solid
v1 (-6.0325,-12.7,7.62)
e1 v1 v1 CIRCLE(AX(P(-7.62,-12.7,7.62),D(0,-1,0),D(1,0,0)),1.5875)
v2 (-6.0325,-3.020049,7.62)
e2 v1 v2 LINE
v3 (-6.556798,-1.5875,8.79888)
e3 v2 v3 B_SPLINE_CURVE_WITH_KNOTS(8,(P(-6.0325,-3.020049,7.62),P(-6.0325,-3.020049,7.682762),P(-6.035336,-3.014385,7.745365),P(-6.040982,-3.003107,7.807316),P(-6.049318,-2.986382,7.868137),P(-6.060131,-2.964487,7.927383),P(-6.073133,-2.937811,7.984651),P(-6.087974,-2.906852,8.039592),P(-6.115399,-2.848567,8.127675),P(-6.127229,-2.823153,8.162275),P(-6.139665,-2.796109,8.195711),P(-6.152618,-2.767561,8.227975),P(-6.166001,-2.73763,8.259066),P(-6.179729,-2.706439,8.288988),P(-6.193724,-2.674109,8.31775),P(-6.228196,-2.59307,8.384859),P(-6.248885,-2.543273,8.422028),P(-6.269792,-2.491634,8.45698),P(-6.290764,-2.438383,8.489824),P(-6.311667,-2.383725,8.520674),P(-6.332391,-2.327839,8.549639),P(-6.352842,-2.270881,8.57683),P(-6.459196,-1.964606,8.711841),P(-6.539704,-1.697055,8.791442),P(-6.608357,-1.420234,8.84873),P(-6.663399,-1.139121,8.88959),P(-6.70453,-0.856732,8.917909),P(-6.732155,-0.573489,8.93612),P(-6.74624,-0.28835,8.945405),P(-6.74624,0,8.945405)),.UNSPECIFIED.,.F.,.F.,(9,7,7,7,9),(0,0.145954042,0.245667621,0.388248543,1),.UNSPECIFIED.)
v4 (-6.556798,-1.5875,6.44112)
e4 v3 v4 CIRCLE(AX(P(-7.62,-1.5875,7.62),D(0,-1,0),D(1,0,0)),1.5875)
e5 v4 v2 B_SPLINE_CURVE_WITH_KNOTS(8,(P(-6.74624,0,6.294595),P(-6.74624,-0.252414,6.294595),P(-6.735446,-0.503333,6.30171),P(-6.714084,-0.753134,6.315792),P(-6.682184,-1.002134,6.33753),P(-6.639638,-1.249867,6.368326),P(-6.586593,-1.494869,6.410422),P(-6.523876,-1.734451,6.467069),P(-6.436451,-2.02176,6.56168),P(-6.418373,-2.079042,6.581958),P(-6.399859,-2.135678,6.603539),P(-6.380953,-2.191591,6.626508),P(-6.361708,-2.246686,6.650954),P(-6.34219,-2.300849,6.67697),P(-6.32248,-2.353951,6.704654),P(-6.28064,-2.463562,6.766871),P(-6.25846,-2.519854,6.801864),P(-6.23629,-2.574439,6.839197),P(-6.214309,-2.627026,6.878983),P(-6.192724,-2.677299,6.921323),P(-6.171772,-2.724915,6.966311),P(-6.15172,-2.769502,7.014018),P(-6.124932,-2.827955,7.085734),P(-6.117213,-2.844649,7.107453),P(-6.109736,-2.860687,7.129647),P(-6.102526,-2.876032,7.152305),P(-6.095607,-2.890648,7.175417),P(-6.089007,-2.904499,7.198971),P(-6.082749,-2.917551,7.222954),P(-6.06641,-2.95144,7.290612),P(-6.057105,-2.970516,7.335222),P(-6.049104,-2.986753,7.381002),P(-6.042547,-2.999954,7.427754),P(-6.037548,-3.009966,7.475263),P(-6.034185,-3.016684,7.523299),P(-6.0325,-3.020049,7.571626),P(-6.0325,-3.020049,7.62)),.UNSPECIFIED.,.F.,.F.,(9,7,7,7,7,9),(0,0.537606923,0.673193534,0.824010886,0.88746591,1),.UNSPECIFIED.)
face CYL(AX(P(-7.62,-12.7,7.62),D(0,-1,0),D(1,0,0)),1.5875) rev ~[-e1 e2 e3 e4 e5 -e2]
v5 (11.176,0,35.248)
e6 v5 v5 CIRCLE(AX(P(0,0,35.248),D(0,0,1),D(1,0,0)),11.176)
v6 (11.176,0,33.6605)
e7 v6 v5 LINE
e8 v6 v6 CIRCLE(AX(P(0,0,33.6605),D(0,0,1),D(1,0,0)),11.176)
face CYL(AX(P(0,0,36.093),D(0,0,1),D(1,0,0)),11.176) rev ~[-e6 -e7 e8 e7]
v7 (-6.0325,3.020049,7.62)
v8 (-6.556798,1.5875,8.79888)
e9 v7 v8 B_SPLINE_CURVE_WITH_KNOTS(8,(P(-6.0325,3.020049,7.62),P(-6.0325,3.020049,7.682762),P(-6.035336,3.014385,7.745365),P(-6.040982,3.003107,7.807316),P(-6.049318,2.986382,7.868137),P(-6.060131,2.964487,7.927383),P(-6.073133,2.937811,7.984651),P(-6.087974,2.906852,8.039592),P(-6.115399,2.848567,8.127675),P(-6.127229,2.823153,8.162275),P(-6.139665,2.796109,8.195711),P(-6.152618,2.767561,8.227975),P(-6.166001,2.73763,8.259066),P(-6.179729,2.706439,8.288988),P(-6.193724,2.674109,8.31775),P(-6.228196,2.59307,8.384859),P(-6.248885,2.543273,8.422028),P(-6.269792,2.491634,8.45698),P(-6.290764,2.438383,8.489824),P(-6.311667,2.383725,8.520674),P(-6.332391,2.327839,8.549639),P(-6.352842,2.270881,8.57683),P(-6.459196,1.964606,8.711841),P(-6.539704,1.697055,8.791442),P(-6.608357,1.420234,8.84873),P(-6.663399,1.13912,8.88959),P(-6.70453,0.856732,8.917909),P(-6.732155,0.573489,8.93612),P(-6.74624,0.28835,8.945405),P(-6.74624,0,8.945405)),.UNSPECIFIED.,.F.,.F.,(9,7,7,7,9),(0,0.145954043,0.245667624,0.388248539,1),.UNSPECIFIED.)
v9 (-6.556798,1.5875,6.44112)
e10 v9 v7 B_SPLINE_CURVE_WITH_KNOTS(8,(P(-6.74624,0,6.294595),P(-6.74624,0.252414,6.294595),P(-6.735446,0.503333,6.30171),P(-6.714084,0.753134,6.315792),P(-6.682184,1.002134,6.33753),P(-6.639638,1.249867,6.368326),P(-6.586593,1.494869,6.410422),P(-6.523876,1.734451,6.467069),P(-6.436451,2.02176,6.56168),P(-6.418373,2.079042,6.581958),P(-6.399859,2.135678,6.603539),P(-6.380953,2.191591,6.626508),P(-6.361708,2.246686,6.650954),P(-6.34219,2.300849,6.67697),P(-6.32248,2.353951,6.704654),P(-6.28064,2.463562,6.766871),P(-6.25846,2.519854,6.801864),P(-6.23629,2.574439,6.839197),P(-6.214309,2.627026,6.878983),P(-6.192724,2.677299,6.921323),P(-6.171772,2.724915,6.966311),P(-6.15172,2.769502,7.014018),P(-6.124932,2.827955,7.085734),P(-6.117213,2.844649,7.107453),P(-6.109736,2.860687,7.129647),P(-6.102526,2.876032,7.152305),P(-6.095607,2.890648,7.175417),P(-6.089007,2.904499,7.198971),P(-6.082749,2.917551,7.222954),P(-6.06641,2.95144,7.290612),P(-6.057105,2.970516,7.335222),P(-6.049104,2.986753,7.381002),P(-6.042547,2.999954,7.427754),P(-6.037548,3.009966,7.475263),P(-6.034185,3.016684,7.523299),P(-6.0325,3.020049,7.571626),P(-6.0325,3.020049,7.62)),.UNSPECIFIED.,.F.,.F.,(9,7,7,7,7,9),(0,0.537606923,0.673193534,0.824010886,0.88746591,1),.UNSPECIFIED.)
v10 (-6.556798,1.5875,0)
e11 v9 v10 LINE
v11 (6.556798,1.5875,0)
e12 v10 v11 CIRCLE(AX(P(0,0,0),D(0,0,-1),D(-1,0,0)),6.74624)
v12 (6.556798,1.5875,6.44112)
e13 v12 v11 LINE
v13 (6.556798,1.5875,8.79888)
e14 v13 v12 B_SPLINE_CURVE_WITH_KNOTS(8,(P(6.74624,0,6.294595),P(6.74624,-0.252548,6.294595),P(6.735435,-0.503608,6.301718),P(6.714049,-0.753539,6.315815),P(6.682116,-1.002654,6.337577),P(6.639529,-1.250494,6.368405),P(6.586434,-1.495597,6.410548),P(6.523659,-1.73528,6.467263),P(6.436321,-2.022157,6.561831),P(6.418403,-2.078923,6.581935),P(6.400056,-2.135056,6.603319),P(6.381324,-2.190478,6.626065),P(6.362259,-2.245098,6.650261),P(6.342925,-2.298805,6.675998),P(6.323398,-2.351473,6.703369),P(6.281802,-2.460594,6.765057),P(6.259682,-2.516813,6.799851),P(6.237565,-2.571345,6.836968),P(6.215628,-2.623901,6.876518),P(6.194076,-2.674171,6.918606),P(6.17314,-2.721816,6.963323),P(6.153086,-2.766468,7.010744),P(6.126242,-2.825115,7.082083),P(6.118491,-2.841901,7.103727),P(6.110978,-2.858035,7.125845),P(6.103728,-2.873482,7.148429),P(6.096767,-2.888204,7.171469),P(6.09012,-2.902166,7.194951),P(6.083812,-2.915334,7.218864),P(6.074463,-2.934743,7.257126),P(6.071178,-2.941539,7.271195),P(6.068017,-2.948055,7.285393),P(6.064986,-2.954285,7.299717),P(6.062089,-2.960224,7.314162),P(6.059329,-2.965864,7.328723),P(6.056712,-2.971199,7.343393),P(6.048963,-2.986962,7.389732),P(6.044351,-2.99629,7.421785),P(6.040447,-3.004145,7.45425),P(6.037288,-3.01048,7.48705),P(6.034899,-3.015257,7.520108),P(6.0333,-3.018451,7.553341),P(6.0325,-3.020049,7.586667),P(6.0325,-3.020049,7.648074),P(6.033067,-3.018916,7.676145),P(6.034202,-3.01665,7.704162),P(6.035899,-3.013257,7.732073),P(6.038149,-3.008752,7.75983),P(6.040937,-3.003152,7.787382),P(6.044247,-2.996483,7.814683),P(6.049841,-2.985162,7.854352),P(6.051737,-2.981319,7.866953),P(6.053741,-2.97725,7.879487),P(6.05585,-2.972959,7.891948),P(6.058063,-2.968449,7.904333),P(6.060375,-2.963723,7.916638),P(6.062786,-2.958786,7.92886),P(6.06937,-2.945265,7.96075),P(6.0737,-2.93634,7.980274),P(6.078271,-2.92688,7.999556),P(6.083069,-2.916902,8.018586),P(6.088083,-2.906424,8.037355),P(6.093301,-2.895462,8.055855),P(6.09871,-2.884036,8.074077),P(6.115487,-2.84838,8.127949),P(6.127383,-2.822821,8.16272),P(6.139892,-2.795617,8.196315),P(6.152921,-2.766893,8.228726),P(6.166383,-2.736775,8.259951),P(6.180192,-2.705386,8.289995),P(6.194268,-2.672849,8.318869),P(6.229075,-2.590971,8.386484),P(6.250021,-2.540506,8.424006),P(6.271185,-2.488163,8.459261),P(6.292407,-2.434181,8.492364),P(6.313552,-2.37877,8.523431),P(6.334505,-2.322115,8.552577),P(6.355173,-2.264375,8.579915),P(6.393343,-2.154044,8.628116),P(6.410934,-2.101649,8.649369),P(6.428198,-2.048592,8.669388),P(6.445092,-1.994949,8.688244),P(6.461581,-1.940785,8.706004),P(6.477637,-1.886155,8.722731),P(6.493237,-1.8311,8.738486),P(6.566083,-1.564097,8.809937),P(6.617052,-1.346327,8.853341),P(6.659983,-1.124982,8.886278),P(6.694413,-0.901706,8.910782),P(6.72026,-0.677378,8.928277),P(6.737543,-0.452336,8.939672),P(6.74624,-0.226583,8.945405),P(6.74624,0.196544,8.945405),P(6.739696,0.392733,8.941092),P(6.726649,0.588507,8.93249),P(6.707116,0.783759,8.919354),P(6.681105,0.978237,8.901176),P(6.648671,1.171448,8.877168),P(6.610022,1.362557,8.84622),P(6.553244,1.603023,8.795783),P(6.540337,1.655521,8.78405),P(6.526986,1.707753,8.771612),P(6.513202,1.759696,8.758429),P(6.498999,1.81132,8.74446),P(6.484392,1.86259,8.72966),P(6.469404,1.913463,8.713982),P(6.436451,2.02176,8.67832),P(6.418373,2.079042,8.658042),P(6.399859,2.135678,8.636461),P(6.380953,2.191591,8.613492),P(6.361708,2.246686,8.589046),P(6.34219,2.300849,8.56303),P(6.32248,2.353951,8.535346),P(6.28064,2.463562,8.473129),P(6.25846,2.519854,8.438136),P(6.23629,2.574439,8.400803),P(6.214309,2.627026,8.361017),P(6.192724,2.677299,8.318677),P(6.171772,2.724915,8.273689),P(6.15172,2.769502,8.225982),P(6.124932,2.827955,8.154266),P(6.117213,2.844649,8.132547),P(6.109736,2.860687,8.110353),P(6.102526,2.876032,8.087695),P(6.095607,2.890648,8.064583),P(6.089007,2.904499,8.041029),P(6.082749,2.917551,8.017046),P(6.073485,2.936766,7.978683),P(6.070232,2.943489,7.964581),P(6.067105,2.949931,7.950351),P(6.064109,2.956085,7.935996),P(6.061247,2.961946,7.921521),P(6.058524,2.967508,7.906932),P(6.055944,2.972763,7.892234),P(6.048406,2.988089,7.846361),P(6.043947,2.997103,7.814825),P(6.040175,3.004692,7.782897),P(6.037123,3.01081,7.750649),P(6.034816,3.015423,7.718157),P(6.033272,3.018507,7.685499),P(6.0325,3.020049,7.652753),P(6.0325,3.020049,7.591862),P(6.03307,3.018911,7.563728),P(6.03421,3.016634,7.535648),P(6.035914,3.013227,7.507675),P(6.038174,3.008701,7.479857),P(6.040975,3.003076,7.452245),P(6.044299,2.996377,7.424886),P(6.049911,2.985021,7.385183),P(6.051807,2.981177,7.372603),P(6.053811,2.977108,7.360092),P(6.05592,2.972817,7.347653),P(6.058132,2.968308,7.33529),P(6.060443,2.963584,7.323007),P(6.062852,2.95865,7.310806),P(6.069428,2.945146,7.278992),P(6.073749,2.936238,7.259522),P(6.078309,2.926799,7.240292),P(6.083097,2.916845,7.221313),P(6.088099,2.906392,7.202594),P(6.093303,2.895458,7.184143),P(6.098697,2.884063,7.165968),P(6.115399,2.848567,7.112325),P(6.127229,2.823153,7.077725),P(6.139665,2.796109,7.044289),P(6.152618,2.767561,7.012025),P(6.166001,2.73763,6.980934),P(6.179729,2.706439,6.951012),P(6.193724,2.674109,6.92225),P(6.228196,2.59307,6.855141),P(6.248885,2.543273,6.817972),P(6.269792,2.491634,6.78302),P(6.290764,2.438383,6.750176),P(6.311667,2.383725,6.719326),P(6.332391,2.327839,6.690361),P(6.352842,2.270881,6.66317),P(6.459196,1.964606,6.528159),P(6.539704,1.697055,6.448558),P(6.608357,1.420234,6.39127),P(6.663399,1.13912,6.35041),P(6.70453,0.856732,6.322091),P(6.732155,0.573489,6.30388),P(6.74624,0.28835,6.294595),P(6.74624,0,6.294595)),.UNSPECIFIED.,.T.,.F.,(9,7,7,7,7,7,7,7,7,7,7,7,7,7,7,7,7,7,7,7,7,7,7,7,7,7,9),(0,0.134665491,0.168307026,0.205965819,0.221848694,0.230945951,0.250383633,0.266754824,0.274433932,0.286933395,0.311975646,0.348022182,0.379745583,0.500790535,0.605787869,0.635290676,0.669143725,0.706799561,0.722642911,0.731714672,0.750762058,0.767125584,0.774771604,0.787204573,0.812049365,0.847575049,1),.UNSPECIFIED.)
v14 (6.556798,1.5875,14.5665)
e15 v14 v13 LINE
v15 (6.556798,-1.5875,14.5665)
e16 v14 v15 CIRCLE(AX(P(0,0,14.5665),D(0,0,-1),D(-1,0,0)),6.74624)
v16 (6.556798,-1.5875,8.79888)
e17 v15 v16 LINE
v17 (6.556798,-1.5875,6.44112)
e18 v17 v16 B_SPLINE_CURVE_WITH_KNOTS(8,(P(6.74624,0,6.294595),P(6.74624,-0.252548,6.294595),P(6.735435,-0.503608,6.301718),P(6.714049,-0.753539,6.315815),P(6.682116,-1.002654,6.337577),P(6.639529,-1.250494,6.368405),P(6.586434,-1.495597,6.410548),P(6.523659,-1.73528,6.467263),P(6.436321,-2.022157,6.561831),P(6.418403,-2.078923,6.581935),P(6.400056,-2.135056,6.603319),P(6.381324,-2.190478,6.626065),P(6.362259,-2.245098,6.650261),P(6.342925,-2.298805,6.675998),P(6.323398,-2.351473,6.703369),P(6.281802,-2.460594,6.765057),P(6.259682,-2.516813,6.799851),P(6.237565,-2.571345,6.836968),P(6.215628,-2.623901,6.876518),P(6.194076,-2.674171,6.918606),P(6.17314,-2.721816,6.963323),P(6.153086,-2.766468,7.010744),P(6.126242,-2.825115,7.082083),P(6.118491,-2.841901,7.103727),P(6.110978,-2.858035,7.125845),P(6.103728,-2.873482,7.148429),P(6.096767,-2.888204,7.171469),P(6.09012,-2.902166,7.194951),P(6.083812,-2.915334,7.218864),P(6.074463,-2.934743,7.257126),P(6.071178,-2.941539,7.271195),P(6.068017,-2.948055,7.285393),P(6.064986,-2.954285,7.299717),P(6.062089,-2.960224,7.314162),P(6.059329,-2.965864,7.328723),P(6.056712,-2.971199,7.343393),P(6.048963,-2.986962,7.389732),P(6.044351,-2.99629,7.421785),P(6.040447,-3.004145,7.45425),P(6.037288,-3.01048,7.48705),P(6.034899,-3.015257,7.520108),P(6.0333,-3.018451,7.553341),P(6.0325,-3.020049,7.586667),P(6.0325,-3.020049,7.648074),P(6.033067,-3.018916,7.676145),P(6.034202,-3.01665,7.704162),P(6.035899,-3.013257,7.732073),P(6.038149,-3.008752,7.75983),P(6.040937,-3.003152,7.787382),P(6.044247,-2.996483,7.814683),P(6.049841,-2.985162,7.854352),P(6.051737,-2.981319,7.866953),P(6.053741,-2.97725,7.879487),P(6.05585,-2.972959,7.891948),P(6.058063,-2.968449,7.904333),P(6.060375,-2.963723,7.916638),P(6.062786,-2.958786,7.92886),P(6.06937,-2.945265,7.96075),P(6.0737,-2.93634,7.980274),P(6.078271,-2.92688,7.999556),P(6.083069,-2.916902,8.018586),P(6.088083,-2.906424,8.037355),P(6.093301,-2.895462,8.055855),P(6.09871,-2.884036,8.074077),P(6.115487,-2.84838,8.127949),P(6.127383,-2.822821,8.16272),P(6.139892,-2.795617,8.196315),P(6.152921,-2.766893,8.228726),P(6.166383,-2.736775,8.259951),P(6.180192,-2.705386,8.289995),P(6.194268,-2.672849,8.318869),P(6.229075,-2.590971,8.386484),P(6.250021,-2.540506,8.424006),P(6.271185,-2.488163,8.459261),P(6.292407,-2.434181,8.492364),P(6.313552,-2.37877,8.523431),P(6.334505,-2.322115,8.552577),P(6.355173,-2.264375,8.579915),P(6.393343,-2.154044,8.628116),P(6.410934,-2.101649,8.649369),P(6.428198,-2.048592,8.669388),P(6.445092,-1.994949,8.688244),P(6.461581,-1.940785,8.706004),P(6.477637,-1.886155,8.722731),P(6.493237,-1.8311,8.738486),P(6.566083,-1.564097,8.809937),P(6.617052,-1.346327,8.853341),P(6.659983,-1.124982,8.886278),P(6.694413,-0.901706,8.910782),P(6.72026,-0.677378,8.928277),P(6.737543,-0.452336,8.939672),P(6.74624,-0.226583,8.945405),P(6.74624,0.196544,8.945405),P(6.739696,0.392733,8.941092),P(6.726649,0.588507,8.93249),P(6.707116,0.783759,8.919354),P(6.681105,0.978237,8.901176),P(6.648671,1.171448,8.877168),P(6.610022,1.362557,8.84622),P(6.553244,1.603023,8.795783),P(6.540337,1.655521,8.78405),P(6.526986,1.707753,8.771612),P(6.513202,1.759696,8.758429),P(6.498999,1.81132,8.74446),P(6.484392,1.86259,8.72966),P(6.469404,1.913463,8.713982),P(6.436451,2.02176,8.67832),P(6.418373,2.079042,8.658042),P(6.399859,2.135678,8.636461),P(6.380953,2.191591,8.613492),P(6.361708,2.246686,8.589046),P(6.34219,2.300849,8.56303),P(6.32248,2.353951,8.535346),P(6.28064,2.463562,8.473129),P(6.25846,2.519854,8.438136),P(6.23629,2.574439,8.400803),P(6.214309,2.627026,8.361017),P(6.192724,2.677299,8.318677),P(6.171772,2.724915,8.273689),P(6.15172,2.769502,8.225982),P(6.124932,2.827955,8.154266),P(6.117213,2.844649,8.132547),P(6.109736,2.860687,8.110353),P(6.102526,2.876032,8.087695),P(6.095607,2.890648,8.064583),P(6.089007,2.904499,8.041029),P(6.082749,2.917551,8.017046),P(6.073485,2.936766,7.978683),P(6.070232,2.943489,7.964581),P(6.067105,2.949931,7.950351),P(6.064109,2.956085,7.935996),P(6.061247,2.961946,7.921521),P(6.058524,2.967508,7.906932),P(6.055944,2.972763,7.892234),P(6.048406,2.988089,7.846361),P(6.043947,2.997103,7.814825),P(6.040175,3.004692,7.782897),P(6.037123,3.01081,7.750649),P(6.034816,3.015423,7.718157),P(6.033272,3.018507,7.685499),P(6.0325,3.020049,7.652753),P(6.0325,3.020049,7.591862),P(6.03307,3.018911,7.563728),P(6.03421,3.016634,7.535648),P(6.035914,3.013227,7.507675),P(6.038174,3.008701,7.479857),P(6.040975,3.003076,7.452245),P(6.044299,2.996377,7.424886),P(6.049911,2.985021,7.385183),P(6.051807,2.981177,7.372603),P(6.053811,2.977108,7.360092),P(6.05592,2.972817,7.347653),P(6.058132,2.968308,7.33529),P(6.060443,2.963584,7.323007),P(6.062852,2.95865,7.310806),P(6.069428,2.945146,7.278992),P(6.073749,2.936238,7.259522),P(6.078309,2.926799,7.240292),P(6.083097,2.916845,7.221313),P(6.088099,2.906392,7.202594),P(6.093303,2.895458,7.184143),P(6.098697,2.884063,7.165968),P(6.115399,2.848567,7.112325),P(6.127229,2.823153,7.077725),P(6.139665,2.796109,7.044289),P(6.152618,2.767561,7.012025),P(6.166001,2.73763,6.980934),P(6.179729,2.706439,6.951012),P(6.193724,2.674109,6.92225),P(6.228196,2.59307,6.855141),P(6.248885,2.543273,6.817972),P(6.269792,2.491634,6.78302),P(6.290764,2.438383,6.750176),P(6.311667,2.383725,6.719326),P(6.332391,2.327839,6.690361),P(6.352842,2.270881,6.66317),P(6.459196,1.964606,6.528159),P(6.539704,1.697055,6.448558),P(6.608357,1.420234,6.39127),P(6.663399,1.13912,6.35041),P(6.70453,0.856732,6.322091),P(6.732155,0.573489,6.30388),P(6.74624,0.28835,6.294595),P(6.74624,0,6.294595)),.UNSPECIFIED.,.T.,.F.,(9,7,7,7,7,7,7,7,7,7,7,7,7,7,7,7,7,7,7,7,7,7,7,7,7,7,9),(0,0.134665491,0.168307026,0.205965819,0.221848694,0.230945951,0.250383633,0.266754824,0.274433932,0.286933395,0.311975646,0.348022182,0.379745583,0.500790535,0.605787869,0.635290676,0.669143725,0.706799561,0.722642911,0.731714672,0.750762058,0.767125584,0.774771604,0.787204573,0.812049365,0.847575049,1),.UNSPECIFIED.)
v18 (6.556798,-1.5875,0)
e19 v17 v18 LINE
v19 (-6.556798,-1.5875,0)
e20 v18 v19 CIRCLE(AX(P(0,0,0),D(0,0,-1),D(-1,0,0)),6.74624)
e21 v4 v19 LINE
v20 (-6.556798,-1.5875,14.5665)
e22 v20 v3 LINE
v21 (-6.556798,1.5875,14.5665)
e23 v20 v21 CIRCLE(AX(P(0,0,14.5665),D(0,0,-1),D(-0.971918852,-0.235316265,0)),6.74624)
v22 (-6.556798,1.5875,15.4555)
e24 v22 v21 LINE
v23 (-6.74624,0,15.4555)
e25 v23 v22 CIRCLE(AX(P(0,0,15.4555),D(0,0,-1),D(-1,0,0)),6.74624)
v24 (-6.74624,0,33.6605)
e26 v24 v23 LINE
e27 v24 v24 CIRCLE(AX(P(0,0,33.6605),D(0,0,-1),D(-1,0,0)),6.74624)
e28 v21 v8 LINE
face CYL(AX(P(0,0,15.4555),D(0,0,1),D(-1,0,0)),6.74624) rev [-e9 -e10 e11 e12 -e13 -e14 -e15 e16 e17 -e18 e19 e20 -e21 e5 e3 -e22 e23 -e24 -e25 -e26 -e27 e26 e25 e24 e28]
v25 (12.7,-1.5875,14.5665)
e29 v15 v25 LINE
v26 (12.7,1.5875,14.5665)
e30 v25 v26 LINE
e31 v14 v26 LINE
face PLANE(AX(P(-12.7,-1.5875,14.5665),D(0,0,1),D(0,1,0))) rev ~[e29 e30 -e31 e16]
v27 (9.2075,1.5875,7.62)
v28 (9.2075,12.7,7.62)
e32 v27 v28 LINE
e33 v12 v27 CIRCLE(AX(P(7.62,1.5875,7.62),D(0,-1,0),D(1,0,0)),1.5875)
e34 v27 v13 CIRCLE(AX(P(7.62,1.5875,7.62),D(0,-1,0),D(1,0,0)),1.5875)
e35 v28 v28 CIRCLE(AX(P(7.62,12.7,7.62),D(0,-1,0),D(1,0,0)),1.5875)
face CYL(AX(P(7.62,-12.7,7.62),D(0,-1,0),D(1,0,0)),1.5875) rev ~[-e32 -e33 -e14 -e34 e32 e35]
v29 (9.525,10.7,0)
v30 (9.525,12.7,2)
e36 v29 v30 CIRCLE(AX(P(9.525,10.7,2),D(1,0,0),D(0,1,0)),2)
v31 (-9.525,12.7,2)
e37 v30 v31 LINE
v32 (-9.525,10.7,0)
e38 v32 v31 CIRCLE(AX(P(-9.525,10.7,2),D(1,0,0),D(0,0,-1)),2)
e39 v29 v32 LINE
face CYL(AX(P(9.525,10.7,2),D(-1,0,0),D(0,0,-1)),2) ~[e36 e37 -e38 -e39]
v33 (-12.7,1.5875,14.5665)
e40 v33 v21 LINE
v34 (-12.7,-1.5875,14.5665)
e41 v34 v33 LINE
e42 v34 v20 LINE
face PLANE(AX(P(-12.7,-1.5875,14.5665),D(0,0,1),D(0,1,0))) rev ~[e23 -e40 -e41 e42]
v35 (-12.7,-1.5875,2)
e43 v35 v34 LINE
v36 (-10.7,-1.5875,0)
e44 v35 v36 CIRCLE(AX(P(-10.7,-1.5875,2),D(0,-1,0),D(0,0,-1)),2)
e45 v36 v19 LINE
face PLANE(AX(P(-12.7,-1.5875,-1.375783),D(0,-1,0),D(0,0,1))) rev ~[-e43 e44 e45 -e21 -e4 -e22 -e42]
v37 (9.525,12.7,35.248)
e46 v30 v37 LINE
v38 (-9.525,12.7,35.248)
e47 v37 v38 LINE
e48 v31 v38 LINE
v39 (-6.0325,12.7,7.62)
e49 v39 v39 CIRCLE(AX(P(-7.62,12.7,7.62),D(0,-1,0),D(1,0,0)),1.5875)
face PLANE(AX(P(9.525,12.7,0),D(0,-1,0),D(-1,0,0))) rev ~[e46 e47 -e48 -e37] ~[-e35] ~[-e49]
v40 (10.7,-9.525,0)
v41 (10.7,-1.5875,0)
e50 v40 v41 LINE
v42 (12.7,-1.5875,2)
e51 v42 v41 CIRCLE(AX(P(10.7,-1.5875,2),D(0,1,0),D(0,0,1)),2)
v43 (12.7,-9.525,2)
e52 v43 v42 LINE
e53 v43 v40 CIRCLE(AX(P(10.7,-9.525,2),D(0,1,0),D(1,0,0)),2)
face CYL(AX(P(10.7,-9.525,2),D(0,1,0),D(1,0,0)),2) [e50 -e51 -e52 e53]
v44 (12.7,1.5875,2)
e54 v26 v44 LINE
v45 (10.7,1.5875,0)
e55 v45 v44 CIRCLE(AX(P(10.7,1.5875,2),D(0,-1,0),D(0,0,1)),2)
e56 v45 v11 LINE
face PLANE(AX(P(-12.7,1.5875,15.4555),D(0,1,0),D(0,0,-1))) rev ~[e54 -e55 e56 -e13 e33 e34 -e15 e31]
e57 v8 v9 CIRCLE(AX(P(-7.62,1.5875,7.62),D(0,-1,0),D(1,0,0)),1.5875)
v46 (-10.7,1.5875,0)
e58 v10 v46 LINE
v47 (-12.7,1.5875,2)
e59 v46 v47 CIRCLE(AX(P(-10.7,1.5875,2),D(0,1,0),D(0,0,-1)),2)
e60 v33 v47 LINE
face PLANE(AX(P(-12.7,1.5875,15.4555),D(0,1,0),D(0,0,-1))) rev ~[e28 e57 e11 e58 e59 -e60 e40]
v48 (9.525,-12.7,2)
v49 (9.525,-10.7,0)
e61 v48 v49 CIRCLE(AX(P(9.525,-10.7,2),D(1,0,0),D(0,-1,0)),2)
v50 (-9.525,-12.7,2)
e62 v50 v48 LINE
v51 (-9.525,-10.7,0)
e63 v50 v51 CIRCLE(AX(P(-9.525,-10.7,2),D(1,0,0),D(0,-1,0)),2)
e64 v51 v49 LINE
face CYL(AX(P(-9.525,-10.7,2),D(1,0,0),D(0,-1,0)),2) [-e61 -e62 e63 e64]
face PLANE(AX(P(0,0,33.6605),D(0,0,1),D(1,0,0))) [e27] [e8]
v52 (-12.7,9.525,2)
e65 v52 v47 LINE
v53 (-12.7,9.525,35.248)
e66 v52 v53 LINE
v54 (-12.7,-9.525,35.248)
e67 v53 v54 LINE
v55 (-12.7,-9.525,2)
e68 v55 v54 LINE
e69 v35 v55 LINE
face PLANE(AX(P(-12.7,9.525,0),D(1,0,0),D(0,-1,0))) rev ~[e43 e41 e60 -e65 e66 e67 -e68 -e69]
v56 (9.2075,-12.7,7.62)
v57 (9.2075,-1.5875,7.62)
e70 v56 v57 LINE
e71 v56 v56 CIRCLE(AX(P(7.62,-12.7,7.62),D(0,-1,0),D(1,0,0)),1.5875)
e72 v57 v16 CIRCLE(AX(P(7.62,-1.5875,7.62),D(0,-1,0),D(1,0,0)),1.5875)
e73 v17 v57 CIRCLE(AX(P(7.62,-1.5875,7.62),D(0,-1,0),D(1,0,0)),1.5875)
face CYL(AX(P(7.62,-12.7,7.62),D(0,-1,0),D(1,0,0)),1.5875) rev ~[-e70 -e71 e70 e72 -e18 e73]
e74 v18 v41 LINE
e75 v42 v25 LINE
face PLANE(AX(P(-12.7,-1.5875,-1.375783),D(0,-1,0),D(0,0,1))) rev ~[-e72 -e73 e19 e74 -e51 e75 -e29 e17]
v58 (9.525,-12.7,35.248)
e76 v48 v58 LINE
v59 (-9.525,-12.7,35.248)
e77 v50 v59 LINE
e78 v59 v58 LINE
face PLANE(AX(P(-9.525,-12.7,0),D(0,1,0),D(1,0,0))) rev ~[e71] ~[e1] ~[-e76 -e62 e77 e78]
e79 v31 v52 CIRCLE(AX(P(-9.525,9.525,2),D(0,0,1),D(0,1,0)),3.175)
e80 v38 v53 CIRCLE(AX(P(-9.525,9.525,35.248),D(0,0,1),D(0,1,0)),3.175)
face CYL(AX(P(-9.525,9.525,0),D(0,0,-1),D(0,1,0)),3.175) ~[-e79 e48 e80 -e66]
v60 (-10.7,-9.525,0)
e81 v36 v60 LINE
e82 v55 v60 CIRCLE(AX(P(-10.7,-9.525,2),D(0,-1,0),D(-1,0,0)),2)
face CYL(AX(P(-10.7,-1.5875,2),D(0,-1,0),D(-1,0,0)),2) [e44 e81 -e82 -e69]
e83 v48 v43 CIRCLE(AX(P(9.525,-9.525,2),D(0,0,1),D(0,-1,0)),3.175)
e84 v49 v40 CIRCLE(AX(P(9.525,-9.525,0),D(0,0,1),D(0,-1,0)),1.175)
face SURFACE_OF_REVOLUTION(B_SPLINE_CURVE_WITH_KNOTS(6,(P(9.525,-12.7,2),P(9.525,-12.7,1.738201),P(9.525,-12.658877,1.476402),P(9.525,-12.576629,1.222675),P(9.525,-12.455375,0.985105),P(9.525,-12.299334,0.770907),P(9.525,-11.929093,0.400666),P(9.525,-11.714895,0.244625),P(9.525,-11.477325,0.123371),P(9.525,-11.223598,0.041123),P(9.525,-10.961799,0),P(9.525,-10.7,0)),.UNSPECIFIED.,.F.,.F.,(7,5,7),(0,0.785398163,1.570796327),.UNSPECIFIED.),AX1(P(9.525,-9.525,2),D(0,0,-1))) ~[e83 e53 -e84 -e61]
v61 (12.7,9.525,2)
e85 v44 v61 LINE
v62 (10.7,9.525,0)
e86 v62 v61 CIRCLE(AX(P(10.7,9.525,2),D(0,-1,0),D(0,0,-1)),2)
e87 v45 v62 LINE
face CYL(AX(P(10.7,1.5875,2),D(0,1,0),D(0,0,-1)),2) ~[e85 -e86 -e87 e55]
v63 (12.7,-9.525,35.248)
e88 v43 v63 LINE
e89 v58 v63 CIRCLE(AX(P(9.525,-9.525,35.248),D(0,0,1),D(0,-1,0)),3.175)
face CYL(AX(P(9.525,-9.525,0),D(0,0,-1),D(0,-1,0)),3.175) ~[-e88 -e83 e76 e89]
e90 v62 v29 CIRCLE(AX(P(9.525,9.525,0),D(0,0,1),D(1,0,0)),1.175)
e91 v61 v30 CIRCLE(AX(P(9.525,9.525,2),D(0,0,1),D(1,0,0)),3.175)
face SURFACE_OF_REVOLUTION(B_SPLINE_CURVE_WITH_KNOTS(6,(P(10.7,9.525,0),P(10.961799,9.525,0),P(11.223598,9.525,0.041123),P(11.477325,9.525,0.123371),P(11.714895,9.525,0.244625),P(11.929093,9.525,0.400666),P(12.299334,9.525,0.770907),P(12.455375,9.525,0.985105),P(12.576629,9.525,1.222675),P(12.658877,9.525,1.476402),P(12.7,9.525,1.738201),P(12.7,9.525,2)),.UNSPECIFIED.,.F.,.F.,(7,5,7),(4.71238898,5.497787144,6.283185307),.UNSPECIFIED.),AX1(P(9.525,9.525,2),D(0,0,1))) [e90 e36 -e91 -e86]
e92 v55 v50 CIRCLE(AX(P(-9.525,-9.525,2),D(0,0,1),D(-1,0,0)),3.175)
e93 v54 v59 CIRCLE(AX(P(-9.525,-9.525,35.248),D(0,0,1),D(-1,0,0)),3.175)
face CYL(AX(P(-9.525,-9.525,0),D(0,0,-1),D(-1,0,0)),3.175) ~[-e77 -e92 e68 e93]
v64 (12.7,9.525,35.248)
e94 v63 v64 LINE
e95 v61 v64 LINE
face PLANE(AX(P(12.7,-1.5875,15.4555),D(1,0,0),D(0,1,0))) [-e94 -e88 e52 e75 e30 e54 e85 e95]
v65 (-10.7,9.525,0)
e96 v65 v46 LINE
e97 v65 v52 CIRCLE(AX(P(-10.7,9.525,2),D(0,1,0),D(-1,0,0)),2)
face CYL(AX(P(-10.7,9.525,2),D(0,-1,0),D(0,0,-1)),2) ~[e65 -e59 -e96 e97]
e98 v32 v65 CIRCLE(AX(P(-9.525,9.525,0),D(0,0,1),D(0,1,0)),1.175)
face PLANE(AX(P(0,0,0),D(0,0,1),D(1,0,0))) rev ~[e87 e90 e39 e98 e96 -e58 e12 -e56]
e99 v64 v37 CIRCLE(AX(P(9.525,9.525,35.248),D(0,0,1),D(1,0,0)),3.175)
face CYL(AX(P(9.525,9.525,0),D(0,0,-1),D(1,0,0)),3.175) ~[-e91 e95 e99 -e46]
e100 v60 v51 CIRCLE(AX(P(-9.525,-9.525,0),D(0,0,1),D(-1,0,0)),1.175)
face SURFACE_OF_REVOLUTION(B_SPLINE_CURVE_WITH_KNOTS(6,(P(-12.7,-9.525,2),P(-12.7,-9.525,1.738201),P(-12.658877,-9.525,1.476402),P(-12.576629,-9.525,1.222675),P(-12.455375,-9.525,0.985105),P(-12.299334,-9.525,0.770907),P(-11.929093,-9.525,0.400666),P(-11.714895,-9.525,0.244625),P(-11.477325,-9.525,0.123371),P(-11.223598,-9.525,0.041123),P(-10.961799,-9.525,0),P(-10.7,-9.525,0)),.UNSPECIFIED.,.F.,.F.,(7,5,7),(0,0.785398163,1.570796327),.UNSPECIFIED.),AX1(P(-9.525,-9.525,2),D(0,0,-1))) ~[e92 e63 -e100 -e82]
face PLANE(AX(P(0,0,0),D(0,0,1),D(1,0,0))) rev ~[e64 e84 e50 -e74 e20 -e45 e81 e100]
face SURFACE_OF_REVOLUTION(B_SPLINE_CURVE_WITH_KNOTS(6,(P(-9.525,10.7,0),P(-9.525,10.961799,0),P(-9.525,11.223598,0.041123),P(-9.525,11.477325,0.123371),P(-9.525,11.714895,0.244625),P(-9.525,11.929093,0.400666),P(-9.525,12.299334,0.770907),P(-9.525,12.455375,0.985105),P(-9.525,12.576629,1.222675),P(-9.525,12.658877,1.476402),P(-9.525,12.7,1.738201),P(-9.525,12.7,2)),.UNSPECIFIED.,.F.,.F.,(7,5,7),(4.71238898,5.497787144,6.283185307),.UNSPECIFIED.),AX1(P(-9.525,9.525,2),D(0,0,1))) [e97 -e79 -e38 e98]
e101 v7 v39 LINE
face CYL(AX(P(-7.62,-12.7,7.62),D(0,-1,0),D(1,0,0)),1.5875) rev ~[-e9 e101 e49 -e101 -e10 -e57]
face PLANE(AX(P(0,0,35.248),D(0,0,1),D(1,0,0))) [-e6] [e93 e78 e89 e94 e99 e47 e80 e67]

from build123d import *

# Parameters (mm, degrees)
F1_DEPTH  = 36.093
F3_D      = 13.49248
F4_R      = 11.176
F5_DEPTH  = 1.5875
F7_DEPTH  = 25.401
F8_R      = 1.5875
F9_DEPTH  = 25.401
F10_R     = 2
F11_DEPTH = 0.845
F12_DEPTH = 0.845
F13_DEPTH = 0.889


with BuildPart() as f1:
    # F0 (on Top) → F1 (new body)
    with BuildSketch(Plane.XY):
        with BuildLine():
            Line((9.525, 12.7), (-9.525, 12.7))
            ThreePointArc((-9.525, 12.7), (-11.7700640303, 11.7700640303), (-12.7, 9.525))
            Line((-12.7, 9.525), (-12.7, -9.525))
            ThreePointArc((-12.7, -9.525), (-11.7700640303, -11.7700640303), (-9.525, -12.7))
            Line((-9.525, -12.7), (9.525, -12.7))
            ThreePointArc((9.525, -12.7), (11.7700640303, -11.7700640303), (12.7, -9.525))
            Line((12.7, -9.525), (12.7, 9.525))
            ThreePointArc((12.7, 9.525), (11.7700640303, 11.7700640303), (9.525, 12.7))
        make_face()
    extrude(amount=F1_DEPTH)

    # F3 (through all)
    with Locations(Plane.XY.offset(36.093)):
        with Locations((0, 0)):
            Hole(F3_D / 2)

    # F4 (on face) → F5 (cut)
    with BuildSketch(Plane.XY.offset(36.093)):
        Circle(F4_R)
    extrude(amount=-F5_DEPTH, mode=Mode.SUBTRACT)

    # F6 (on face) → F7 (cut, through all)
    with BuildSketch(Plane(origin=(-12.7, 0, 0), x_dir=(0, -1, 0), z_dir=(-1, 0, 0))):
        Polygon((1.5875, 15.4555), (0, 15.4555), (-1.5875, 15.4555), (-1.5875, -0.7945992402), (1.5875, -1.3757834677), align=None)
    extrude(amount=-F7_DEPTH, mode=Mode.SUBTRACT)

    # F8 (on face) → F9 (cut, through all)
    with BuildSketch(Plane.XZ.offset(12.7)):
        with Locations((-7.62, 7.62)):
            Circle(F8_R)
        with Locations((7.62, 7.62)):
            Circle(F8_R)
    extrude(amount=-F9_DEPTH, mode=Mode.SUBTRACT)

    # F10
    f10_edges = [f1.edges().sort_by_distance(p)[0] for p in [
        (-12.7, 5.55625, 0),
        (-12.7, -5.55625, 0),
    ]]
    fillet(f10_edges, radius=F10_R)

    # F11 (cut): a face of the model
    f11_faces = [f1.faces().sort_by_distance(p)[0] for p in [
        (0, 12.3407897552, 36.093),
    ]]
    extrude(f11_faces, amount=-F11_DEPTH, mode=Mode.SUBTRACT)

    # F12 (cut): a face of the model
    f12_faces = [f1.faces().sort_by_distance(p)[0] for p in [
        (-10.8598949845, 0, 34.5055),
    ]]
    extrude(f12_faces, amount=-F12_DEPTH, mode=Mode.SUBTRACT)

    # F13 (add): faces of the model
    f13_faces = [f1.faces().sort_by_distance(p)[0] for p in [
        (9.6914617735, 0, 15.4555),
        (-9.6914617735, 0, 15.4555),
    ]]
    extrude(f13_faces, amount=F13_DEPTH)


solid = f1.part
